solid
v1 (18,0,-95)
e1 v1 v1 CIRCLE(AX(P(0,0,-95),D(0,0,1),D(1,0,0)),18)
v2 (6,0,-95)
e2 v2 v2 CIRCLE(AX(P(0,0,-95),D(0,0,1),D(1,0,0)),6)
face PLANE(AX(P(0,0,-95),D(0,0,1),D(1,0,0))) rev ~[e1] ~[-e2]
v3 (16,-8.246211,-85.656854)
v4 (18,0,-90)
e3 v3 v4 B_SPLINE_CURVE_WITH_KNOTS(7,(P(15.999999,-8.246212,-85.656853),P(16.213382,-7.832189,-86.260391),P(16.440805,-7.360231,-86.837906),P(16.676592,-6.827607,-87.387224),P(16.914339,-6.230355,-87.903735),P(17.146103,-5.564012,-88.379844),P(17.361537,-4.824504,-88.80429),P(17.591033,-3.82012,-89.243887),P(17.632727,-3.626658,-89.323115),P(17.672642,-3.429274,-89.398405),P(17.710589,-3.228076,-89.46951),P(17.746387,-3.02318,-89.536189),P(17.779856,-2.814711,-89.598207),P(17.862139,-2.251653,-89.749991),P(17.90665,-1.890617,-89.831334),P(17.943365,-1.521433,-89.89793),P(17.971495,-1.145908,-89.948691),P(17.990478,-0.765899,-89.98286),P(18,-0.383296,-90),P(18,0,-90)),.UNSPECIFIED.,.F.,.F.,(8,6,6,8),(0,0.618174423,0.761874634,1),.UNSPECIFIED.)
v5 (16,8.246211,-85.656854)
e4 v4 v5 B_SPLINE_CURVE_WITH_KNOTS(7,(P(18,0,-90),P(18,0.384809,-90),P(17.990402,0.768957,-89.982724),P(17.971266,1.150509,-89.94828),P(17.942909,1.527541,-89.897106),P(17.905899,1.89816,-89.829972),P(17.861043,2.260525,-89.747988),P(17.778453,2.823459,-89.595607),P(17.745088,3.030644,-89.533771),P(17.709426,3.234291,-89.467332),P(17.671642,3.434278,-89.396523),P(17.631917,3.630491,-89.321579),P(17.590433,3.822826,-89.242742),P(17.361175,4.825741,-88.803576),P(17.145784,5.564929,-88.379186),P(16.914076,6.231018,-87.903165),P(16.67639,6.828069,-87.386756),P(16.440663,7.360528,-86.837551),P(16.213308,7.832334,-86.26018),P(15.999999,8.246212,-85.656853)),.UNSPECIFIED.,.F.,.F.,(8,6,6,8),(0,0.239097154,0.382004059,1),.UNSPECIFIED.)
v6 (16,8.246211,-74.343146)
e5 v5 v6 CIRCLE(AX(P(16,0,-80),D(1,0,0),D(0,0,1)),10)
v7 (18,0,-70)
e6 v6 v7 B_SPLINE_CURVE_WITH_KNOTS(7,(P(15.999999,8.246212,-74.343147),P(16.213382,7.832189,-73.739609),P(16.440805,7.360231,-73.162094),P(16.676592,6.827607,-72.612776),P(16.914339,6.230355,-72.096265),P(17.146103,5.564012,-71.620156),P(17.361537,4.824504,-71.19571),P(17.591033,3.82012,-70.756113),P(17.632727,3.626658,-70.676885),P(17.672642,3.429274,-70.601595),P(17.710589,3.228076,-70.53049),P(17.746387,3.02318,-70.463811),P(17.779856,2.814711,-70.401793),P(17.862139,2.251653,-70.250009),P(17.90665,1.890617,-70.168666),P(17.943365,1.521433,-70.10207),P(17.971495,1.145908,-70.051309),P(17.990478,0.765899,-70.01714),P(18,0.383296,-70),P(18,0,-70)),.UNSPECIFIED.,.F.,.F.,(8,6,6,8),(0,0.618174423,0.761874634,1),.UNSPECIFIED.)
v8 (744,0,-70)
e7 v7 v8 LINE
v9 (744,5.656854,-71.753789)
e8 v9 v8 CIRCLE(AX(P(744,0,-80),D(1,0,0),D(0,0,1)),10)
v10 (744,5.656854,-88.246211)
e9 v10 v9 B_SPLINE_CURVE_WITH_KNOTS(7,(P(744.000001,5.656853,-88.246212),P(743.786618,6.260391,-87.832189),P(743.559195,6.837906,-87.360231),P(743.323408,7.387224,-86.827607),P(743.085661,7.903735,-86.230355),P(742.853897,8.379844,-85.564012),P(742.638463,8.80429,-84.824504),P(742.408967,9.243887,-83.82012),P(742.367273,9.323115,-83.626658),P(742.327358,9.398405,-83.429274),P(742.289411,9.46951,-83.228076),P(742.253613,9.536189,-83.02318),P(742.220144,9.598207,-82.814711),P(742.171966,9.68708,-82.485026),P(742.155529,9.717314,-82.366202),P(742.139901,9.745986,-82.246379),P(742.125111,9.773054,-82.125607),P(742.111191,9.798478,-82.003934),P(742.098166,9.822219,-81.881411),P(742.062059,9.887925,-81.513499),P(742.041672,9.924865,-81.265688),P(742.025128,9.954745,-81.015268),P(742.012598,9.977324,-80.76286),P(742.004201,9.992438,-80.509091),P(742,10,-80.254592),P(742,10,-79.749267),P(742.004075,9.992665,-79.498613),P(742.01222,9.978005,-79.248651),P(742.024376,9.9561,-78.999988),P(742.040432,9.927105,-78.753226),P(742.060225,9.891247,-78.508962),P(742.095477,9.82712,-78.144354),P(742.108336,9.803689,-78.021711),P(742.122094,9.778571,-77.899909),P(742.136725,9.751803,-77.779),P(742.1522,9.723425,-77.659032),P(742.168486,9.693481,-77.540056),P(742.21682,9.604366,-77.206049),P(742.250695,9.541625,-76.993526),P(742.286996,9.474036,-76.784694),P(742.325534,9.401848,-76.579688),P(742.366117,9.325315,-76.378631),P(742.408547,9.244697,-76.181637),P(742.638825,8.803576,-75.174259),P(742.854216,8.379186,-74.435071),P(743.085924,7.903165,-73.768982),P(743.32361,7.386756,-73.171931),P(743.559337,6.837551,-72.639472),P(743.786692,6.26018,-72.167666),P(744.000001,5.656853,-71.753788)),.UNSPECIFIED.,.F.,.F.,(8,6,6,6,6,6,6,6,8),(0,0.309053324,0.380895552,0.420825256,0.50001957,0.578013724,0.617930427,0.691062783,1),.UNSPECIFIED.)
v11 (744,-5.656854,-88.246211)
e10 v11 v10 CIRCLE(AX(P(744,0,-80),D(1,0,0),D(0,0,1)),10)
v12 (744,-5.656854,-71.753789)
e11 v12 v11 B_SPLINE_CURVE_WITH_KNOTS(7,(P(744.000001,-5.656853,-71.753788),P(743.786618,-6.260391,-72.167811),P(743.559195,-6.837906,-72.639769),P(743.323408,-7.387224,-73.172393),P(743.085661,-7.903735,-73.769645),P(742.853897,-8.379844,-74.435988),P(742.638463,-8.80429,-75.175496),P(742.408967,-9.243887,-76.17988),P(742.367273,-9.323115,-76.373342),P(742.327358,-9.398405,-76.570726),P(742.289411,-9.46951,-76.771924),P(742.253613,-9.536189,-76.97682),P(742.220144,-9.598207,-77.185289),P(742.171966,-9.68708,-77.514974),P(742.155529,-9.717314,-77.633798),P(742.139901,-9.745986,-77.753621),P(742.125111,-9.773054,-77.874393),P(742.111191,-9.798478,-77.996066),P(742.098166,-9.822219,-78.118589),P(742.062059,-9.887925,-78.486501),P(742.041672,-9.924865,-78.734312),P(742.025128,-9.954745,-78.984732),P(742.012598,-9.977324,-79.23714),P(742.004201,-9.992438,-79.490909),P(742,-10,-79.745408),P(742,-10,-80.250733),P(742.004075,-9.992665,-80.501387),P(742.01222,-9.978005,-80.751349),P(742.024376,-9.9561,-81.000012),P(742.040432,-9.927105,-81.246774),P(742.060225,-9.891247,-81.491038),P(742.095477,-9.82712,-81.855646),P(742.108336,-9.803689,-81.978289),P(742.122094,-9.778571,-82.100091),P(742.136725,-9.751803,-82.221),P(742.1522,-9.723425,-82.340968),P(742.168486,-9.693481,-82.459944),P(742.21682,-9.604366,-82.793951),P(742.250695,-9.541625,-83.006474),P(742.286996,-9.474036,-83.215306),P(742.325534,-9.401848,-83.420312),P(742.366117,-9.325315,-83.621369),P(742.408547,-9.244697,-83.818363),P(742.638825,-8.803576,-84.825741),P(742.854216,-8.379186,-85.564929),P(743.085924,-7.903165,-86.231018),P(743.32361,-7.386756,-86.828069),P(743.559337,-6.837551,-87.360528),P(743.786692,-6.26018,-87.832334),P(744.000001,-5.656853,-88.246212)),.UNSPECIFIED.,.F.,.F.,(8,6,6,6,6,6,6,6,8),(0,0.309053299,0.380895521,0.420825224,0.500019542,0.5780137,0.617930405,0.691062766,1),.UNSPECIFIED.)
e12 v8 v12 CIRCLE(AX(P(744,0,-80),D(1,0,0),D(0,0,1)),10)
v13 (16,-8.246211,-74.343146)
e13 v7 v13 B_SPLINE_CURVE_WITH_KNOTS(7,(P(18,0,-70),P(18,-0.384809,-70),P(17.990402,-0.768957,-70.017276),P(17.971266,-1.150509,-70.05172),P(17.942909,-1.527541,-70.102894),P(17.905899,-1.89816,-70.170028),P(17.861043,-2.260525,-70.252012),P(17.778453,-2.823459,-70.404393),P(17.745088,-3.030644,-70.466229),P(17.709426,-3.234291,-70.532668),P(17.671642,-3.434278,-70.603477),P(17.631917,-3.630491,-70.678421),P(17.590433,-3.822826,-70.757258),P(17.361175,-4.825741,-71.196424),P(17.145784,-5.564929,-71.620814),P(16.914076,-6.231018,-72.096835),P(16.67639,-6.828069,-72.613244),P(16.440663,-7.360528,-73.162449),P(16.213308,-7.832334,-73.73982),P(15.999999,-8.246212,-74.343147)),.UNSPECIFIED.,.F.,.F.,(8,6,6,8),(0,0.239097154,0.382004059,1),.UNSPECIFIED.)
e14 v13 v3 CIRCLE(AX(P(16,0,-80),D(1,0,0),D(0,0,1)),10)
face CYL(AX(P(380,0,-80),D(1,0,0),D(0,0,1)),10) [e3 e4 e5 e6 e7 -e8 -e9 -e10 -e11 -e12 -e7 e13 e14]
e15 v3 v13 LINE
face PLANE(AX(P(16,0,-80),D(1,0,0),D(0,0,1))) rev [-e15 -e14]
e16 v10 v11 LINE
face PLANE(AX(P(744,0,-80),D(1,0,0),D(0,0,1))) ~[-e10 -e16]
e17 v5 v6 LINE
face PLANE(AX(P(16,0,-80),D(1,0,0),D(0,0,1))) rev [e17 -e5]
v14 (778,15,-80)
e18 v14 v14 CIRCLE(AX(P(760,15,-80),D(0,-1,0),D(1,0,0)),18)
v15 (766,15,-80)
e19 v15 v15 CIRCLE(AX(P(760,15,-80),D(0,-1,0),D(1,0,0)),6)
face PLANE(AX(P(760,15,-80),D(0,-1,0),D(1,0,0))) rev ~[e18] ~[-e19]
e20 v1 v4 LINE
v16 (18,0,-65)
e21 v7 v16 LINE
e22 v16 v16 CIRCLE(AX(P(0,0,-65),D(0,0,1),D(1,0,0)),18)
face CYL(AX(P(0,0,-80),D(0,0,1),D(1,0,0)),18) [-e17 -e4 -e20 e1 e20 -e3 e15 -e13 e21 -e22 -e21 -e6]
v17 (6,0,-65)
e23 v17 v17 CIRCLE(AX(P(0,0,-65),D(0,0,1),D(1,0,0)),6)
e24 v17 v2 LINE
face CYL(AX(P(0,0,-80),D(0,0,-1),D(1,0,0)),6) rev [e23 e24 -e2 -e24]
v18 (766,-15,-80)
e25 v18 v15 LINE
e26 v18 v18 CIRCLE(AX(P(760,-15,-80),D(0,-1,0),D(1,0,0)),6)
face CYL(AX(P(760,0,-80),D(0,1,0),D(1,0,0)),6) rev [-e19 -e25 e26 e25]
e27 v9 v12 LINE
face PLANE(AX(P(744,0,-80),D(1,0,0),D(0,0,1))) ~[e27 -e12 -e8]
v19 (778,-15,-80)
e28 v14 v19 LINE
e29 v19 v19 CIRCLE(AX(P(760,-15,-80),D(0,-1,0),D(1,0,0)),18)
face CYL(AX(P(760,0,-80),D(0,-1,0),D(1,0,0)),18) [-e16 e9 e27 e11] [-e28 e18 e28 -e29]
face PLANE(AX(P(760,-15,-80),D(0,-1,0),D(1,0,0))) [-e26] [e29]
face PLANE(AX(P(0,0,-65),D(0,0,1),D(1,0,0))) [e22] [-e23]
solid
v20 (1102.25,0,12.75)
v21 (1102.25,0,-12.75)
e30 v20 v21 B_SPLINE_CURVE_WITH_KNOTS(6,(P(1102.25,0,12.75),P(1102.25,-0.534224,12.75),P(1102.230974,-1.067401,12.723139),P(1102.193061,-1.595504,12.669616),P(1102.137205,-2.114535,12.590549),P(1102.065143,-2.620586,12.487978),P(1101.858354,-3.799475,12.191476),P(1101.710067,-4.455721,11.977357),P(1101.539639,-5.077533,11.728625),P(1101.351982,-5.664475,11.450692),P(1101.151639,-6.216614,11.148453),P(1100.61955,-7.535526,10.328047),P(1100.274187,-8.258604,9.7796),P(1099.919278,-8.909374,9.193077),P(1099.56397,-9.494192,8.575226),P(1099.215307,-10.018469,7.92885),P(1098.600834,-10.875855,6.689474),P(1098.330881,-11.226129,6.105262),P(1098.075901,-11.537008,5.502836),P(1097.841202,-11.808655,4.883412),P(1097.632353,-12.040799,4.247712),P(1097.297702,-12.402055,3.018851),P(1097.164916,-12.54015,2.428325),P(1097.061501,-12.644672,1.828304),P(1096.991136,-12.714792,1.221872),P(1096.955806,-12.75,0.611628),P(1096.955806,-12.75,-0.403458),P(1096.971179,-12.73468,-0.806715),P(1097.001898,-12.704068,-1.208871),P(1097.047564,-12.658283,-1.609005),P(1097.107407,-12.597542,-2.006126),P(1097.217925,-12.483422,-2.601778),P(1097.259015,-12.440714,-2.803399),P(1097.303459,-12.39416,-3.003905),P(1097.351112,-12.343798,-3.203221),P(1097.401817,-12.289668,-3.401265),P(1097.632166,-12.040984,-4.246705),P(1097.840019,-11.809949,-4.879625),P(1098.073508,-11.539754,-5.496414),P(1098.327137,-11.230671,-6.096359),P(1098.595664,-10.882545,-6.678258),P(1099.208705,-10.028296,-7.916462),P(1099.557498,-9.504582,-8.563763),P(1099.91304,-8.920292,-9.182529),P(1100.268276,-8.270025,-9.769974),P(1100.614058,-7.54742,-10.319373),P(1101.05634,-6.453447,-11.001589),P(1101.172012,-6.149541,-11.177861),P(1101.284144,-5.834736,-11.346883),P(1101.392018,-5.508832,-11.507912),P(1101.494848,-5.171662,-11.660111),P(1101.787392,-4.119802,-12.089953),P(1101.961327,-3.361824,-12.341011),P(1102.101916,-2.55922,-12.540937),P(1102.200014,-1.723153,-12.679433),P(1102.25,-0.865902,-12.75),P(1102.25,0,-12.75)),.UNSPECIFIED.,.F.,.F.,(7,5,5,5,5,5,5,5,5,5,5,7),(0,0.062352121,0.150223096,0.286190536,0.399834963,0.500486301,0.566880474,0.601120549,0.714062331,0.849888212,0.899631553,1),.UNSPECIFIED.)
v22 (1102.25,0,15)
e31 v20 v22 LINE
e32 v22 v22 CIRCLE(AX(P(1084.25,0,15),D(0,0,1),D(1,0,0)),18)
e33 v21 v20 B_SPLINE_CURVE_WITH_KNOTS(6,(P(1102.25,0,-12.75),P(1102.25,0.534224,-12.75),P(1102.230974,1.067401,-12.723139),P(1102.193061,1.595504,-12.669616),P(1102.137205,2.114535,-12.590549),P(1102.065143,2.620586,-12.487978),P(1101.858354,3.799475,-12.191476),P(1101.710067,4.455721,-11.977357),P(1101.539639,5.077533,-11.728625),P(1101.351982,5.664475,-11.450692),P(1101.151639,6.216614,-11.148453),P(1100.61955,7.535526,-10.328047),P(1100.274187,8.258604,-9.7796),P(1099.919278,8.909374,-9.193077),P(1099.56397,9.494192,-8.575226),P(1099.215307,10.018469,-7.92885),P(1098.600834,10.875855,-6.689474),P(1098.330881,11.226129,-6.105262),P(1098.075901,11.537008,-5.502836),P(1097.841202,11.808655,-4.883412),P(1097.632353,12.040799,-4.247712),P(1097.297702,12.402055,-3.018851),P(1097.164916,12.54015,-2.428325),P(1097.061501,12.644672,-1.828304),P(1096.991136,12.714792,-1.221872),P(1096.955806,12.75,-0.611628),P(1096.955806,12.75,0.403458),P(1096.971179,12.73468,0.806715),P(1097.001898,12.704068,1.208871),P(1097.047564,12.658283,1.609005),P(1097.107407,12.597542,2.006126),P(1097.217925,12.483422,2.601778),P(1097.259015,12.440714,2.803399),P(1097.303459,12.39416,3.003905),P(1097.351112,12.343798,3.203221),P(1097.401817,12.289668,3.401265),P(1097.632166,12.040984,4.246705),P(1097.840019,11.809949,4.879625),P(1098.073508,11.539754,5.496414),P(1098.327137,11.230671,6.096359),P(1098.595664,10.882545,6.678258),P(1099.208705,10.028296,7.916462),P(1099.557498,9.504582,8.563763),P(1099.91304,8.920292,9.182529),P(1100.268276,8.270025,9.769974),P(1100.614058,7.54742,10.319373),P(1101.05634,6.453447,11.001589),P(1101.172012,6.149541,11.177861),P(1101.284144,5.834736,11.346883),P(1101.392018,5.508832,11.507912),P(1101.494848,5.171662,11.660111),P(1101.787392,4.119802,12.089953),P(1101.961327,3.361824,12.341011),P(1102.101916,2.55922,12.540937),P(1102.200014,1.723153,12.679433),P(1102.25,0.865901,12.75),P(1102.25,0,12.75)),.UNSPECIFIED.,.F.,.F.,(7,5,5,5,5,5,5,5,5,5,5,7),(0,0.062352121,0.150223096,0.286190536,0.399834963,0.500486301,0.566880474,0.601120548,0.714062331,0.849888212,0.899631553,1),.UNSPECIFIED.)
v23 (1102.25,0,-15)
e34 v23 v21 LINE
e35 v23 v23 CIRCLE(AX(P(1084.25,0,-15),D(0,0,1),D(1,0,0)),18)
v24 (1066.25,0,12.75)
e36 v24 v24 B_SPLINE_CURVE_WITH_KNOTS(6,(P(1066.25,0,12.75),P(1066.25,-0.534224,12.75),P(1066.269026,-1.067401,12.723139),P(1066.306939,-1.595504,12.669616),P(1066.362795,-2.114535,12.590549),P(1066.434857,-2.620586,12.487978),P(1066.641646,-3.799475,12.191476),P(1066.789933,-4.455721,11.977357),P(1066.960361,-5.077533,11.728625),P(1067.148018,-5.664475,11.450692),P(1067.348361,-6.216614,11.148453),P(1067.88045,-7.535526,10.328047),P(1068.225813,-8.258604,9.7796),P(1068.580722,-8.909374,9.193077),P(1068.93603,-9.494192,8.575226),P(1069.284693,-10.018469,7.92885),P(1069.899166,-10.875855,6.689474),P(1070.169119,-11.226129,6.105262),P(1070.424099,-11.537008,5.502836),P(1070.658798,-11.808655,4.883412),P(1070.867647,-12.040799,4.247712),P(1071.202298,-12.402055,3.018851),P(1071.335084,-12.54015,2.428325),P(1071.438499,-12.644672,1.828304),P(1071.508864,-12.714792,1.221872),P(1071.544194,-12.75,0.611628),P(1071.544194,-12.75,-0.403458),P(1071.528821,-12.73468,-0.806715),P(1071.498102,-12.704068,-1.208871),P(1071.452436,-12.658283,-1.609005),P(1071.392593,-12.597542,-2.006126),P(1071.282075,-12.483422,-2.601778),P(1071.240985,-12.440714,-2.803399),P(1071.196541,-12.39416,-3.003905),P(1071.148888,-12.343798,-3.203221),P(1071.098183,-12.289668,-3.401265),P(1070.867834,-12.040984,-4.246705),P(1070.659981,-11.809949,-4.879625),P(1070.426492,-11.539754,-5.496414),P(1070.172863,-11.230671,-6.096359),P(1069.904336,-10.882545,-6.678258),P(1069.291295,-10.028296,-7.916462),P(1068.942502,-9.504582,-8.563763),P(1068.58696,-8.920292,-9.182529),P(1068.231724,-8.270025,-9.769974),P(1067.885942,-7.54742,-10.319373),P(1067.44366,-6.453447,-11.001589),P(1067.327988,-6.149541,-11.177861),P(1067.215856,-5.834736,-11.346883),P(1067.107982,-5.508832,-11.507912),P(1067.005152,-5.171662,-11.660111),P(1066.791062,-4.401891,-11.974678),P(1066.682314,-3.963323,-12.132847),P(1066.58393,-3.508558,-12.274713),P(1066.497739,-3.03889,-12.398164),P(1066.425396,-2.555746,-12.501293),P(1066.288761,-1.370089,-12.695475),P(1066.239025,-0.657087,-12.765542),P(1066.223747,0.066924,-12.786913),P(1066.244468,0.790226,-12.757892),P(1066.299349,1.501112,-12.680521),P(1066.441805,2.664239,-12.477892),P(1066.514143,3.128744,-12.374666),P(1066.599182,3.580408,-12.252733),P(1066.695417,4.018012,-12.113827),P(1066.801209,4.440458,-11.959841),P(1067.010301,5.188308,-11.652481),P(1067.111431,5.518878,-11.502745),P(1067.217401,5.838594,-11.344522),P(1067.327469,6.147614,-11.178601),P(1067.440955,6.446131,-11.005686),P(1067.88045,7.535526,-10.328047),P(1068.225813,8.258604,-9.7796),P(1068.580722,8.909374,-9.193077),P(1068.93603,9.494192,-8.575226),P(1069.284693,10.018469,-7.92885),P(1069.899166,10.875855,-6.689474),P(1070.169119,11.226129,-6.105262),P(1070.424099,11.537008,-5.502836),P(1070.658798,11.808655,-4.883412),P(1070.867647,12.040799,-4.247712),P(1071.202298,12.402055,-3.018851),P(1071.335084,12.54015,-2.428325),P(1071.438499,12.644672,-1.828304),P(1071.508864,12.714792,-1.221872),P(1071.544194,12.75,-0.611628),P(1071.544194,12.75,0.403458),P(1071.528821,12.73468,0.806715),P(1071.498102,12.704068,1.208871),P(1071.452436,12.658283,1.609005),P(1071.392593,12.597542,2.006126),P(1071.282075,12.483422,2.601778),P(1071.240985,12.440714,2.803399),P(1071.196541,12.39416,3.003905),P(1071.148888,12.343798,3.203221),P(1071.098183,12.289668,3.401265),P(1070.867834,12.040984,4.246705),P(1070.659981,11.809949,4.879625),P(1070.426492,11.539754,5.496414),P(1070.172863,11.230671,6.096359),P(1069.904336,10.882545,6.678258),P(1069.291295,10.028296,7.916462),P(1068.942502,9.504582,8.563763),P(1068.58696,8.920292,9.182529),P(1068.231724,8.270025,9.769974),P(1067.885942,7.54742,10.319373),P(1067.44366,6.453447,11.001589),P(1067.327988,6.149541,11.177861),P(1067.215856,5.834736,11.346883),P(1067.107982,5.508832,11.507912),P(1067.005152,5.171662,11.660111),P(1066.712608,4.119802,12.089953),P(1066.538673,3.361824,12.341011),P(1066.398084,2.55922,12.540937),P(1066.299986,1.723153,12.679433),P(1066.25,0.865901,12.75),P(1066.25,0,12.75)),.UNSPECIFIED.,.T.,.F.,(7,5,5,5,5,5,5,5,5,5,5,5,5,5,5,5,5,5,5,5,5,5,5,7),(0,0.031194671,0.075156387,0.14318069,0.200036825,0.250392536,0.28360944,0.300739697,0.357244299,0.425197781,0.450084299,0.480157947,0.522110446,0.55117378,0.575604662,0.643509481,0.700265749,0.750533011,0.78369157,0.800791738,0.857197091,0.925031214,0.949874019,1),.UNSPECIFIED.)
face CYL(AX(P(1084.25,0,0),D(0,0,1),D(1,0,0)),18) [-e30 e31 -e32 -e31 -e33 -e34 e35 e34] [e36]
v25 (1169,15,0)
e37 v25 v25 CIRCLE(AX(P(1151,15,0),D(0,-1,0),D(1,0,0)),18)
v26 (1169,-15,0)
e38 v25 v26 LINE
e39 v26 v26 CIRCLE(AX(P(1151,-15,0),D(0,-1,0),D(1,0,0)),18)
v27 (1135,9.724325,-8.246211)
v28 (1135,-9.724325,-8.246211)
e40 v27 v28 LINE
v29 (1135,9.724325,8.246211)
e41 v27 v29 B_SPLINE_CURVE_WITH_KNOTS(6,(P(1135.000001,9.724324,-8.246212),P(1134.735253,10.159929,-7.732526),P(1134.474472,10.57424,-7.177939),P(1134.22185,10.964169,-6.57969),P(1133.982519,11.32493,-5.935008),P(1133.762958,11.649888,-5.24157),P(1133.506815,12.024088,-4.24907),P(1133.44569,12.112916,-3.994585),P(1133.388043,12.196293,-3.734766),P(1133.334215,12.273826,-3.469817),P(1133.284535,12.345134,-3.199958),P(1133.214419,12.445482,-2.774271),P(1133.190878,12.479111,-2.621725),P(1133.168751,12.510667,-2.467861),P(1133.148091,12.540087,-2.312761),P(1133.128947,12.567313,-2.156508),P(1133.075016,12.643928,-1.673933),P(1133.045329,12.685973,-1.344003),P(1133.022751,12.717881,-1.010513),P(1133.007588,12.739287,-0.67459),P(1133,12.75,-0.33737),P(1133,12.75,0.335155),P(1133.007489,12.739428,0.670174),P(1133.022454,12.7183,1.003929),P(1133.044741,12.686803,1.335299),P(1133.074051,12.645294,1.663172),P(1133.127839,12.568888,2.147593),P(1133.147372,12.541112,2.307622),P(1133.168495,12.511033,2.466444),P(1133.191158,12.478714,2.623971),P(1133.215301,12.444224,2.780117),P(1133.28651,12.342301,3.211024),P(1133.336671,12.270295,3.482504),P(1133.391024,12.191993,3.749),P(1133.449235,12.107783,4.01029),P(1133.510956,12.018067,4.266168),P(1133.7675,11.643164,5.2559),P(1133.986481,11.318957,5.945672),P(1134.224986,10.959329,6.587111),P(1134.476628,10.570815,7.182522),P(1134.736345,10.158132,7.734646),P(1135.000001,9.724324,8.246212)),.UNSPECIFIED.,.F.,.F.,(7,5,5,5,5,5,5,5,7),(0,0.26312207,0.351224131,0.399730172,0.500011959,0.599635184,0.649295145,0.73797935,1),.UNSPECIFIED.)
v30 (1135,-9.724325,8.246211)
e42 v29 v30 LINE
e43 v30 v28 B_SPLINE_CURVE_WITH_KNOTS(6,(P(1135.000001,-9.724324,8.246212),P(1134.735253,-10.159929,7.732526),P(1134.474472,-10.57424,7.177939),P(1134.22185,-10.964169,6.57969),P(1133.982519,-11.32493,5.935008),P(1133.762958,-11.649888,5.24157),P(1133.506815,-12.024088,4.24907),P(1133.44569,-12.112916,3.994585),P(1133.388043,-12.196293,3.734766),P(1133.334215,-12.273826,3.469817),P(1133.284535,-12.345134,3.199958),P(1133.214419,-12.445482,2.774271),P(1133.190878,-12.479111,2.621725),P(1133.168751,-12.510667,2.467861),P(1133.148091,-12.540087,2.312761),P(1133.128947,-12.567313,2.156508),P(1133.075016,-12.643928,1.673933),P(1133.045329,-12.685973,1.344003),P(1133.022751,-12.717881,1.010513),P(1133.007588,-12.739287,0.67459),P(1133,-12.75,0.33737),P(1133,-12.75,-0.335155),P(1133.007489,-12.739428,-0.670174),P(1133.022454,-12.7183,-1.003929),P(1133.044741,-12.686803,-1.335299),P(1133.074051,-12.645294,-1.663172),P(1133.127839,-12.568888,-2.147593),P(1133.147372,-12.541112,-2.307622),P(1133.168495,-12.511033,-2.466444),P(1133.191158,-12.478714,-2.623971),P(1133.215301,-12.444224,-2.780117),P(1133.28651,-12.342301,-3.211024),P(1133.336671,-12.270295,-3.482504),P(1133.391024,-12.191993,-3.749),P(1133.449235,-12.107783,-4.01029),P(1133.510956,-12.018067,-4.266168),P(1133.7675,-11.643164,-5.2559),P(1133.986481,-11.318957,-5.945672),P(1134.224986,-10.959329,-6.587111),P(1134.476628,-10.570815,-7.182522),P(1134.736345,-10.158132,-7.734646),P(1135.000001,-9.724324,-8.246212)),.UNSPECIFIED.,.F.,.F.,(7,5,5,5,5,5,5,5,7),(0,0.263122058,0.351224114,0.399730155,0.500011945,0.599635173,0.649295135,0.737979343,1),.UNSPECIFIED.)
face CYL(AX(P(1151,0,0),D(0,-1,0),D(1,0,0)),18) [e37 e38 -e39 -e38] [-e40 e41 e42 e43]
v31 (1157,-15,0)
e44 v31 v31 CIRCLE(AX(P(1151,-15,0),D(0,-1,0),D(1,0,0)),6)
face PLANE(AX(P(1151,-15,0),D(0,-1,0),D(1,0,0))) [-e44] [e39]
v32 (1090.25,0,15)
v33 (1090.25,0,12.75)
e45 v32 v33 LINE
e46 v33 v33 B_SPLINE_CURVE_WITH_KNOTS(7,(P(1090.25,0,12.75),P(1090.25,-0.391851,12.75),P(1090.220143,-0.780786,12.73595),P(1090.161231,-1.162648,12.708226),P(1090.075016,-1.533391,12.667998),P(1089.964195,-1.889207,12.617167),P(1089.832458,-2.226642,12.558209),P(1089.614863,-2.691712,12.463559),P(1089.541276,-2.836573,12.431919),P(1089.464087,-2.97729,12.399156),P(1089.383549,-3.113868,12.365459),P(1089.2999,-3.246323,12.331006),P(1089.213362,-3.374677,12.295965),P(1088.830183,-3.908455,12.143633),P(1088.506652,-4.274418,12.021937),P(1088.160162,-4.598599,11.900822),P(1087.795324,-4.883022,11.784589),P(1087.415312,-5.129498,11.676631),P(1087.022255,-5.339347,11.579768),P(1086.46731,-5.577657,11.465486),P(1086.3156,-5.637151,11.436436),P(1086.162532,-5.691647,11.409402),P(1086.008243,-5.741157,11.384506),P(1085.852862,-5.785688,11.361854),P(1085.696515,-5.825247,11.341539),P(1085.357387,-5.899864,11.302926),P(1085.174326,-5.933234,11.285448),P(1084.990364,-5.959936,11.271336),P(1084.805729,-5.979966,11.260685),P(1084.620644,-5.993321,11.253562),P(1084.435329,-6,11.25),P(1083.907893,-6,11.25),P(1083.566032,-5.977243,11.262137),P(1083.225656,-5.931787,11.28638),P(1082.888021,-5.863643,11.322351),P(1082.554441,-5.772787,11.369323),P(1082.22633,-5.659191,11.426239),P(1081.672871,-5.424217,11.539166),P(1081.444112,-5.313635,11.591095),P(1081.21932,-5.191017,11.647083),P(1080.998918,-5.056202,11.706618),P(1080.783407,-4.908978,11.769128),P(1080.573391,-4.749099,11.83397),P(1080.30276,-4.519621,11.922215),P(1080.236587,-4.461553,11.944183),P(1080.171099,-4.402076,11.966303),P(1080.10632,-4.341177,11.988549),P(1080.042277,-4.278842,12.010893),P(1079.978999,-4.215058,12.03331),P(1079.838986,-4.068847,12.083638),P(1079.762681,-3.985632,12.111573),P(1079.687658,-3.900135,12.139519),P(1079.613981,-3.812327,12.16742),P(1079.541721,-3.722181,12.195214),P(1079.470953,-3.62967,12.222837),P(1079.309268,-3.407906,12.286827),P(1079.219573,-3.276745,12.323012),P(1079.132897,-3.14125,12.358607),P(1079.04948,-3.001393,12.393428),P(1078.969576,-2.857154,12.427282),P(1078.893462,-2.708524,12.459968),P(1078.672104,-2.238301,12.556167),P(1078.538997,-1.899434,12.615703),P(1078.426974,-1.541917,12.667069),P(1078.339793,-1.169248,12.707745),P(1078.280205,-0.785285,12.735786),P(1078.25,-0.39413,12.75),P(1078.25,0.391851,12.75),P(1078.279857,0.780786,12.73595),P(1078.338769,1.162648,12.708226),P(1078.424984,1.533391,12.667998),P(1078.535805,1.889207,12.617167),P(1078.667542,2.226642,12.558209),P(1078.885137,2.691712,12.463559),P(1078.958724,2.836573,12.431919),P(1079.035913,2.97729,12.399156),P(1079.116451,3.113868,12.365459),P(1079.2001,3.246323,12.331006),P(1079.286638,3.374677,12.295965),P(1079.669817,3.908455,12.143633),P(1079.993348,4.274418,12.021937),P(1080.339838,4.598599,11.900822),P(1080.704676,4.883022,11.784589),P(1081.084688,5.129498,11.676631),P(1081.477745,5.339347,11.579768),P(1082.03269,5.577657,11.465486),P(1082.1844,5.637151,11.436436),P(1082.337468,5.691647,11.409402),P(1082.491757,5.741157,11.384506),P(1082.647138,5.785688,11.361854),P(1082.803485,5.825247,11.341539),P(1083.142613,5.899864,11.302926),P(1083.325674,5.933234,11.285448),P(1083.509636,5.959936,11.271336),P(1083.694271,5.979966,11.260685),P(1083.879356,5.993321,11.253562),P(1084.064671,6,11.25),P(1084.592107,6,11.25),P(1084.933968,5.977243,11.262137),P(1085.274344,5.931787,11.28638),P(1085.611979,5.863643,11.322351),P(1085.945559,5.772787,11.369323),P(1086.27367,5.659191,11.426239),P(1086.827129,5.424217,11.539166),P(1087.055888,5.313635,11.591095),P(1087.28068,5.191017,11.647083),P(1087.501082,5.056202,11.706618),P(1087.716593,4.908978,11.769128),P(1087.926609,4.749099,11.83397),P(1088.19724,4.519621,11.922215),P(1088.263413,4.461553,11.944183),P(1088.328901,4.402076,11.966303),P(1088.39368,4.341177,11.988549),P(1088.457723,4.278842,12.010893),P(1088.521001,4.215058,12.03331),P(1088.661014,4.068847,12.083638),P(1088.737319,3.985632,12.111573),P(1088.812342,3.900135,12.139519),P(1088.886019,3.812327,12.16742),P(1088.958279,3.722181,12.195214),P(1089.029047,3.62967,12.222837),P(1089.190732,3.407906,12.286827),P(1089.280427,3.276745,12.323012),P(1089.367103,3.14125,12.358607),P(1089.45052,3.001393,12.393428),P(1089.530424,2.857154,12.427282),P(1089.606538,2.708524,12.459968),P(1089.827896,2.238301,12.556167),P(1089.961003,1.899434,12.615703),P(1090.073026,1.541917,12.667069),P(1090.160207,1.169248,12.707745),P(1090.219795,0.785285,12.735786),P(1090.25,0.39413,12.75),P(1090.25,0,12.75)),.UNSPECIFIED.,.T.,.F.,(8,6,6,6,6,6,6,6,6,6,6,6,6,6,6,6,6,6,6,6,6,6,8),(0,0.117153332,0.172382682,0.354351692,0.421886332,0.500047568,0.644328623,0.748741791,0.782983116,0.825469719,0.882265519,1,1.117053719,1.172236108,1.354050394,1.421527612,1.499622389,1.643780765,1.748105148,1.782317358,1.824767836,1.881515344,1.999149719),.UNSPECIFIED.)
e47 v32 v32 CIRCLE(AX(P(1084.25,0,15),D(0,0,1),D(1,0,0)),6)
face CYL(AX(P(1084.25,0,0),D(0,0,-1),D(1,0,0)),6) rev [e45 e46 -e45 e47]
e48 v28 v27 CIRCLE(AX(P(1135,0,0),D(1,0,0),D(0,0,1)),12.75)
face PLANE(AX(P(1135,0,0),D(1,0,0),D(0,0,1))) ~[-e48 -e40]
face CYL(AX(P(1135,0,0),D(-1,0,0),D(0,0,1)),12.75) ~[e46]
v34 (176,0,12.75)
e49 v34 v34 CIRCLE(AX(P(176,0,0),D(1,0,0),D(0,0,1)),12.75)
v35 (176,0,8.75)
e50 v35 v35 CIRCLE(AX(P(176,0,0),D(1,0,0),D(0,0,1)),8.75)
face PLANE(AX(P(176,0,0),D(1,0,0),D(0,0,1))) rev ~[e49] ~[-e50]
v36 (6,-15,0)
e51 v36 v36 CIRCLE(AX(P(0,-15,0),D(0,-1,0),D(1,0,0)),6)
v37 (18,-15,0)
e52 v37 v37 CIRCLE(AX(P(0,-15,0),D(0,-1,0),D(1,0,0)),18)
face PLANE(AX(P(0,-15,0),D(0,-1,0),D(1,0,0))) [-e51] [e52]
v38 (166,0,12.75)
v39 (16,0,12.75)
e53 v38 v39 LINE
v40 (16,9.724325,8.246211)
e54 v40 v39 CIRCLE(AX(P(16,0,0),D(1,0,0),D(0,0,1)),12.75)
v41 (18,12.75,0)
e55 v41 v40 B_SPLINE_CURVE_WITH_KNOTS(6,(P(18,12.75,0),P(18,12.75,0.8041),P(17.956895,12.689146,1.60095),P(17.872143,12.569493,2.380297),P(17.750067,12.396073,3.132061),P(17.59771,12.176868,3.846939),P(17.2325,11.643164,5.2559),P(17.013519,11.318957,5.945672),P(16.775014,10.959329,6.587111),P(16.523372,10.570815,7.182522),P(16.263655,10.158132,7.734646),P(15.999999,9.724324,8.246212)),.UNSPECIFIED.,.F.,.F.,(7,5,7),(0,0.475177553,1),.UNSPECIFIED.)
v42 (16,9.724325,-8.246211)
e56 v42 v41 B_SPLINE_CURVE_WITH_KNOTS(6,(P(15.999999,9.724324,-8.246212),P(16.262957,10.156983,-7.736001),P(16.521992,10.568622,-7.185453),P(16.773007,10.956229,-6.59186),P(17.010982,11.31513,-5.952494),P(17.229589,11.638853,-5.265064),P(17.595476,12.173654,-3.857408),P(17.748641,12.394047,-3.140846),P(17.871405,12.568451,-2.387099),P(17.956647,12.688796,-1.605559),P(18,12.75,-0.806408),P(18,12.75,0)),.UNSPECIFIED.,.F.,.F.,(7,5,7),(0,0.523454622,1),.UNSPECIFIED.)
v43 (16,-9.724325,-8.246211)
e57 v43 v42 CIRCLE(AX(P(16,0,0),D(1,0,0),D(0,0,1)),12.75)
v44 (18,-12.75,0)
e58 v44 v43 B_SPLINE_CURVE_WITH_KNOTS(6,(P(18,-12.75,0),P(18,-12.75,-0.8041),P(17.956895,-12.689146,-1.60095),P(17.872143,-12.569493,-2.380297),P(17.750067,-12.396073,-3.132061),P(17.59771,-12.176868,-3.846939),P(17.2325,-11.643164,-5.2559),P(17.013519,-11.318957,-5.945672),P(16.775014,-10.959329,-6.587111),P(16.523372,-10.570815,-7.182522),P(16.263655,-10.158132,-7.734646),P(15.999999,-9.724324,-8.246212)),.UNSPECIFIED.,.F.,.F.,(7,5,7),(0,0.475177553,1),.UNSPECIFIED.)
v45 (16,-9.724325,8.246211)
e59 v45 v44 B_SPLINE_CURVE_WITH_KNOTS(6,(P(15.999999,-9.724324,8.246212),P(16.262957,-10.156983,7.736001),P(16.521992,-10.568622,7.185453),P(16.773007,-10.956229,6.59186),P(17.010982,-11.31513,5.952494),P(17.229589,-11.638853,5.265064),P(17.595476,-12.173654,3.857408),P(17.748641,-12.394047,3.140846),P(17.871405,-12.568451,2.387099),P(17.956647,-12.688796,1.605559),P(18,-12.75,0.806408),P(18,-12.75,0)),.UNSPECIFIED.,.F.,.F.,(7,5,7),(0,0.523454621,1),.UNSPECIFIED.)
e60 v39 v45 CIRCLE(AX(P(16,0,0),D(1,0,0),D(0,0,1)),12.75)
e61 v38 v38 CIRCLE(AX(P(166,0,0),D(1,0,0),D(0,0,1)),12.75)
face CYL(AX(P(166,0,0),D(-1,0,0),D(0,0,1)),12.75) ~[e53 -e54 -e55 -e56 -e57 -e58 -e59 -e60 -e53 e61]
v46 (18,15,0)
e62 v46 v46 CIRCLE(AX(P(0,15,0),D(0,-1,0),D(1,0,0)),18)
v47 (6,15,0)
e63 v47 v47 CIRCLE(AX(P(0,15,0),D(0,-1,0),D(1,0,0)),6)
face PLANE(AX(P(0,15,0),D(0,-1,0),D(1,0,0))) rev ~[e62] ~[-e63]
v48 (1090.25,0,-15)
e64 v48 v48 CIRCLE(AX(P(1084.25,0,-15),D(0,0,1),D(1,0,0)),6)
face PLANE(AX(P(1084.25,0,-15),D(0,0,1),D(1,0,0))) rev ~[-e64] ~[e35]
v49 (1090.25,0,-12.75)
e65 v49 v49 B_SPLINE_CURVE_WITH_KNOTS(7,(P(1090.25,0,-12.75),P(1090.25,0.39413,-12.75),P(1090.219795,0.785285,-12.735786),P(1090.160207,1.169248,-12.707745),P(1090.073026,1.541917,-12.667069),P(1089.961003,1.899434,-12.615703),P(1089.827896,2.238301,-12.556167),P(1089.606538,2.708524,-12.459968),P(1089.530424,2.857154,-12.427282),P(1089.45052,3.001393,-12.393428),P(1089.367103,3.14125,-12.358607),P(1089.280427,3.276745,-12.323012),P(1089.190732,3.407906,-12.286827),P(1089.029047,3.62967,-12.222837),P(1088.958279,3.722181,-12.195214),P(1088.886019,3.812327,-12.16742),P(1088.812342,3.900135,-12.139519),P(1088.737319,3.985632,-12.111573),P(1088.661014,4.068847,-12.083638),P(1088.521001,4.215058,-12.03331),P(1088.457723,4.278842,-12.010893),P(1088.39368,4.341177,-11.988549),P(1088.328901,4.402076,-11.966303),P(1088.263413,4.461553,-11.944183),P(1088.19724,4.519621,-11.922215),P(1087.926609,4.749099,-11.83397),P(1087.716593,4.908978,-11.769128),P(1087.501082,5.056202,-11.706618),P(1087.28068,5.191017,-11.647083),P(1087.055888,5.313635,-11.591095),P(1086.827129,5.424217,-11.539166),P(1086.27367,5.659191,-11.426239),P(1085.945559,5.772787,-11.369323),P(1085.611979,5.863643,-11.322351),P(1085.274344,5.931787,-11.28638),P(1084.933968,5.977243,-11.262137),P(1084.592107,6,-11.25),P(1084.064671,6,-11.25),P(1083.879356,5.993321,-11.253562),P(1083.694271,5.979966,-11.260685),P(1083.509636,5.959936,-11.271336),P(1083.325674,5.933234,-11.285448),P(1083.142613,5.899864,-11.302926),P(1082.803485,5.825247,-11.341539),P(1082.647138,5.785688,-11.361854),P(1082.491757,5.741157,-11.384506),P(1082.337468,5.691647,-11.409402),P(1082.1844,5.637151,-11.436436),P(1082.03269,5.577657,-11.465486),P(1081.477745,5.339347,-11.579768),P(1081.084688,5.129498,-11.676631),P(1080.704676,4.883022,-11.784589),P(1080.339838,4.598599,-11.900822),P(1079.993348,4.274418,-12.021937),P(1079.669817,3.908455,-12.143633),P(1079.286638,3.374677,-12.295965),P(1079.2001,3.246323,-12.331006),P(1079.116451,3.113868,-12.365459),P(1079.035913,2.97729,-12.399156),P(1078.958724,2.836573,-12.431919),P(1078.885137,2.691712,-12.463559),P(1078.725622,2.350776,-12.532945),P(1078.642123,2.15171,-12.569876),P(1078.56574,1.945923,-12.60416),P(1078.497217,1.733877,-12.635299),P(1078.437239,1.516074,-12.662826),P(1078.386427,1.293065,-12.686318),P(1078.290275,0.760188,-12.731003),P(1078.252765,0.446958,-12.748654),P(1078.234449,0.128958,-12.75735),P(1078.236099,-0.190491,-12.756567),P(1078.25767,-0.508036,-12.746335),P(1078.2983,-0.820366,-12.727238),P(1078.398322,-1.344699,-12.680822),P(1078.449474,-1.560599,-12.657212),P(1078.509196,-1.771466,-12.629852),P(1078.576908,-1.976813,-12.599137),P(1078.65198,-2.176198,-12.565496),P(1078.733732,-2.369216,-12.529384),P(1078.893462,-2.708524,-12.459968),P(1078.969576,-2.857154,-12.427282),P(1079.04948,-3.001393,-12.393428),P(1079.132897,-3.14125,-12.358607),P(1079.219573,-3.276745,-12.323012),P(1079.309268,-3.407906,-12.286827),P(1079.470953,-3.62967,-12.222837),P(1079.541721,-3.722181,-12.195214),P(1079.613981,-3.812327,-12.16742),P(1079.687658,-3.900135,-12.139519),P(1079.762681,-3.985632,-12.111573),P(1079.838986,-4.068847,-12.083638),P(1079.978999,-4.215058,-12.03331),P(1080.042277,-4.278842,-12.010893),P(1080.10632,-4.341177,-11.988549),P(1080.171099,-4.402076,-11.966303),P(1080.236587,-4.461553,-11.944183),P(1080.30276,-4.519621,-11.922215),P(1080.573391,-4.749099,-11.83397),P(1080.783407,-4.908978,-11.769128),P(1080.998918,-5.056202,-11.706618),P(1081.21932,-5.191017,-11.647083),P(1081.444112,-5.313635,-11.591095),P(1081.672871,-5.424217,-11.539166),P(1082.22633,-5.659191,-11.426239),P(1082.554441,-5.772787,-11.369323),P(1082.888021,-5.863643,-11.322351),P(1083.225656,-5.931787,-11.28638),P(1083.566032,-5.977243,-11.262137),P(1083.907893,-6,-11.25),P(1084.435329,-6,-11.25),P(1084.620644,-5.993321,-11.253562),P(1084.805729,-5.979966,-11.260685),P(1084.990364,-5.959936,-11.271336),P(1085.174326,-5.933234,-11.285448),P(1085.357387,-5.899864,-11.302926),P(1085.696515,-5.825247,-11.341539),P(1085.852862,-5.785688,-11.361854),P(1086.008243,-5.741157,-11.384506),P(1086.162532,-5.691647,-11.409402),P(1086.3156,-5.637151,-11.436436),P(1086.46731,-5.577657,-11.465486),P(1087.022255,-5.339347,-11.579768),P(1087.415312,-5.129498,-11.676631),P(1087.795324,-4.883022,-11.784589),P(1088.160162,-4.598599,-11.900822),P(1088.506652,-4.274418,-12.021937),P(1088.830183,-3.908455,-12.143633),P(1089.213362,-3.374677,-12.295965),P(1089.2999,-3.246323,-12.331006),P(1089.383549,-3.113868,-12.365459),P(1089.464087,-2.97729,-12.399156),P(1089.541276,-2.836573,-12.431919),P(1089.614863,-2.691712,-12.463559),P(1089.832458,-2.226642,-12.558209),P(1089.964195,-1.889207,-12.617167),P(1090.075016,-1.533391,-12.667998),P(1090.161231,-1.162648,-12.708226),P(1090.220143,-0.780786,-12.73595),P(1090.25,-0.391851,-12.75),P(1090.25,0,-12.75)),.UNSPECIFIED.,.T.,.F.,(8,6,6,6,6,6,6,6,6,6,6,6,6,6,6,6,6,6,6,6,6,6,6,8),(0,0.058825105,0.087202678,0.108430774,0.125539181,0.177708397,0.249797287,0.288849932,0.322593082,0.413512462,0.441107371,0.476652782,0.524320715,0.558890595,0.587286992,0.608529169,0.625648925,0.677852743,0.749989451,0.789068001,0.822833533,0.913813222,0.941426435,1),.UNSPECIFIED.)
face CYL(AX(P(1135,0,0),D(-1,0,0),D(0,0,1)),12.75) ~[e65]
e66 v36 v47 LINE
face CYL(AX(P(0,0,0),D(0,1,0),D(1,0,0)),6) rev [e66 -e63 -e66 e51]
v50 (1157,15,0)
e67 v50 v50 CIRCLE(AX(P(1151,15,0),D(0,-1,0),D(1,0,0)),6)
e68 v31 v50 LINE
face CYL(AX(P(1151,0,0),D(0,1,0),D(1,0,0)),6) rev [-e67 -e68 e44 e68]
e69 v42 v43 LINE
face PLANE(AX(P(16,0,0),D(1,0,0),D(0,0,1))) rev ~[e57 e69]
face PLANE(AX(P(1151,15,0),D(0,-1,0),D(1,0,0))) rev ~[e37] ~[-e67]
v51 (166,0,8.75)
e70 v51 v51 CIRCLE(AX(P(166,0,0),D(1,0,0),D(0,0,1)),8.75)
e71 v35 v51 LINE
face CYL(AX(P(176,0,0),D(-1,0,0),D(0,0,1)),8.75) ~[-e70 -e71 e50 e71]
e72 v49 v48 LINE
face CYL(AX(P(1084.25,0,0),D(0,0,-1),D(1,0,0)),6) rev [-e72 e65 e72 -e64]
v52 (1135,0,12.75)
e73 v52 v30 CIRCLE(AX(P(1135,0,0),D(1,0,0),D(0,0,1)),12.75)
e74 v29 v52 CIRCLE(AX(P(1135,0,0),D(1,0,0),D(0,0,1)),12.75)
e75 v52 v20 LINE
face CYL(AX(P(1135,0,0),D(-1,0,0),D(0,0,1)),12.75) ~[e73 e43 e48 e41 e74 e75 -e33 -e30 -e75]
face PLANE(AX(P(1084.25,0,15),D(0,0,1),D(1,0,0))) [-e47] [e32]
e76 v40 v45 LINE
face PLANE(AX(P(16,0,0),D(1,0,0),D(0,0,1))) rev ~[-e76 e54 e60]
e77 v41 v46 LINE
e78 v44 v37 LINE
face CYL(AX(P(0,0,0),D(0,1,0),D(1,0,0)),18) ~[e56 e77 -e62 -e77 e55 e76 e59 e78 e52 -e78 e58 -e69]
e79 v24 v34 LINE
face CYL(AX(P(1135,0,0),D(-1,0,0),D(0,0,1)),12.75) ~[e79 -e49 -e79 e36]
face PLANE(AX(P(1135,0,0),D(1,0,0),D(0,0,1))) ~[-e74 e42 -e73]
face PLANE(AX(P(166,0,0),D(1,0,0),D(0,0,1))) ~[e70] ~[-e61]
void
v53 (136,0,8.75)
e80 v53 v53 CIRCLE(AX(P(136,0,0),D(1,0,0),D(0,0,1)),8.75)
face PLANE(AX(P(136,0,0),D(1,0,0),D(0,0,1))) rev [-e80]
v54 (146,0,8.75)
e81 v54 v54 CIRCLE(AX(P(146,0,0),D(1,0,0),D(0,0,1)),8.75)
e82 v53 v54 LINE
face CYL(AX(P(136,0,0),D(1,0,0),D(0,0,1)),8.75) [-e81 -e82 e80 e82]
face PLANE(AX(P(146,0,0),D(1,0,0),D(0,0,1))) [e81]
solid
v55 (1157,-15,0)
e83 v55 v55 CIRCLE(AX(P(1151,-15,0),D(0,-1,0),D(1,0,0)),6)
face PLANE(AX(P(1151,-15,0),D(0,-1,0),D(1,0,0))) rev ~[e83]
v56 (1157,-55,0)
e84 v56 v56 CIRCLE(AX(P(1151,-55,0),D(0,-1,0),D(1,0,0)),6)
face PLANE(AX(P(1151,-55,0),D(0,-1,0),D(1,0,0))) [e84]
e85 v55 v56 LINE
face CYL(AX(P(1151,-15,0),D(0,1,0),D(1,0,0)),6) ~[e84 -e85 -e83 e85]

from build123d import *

# Parameters (mm, degrees)
F2_R      = 18
F2_R_2    = 6
F3_DEPTH  = 15
F4_R      = 6
F5_DEPTH  = 40
F6_W      = 728
F6_H      = 10
F8_R      = 18
F8_R_2    = 6
F9_DEPTH  = 15
F11_R     = 18
F11_R_2   = 6
F12_DEPTH = 15
F13_R     = 18
F13_R_2   = 6
F14_DEPTH = 15


with BuildPart() as f1:
    # F0 (on Front) → F1 (revolve)
    with BuildSketch(Plane.XZ):
        Polygon((16, 12.75), (16, 0), (136, 0), (136, 8.75), (146, 8.75), (166, 8.75), (166, 12.75), align=None)
        Polygon((146, 8.75), (146, 0), (156, 0), (166, 0), (1135, 0), (1135, 12.75), (176, 12.75), (176, 8.75), (166, 8.75), align=None)
    revolve(axis=Axis((575.5, 0, 0), (1, 0, 0)))

    # F2 (on Front) → F3 (join, symmetric)
    with BuildSketch(Plane.XZ):
        Circle(F2_R)
        Circle(F2_R_2, mode=Mode.SUBTRACT)
        with Locations((1151, 0)):
            Circle(F2_R)
        with Locations((1151, 0)):
            Circle(F2_R_2, mode=Mode.SUBTRACT)
    extrude(amount=F3_DEPTH, both=True)

    # F13 (on Top) → F14 (join, symmetric)
    with BuildSketch(Plane.XY):
        with Locations((1084.25, 0)):
            Circle(F13_R)
        with Locations((1084.25, 0)):
            Circle(F13_R_2, mode=Mode.SUBTRACT)
    extrude(amount=F14_DEPTH, both=True)


with BuildPart() as f5:
    # F4 (on face) → F5 (new body)
    with BuildSketch(Plane.XZ.offset(15)):
        with Locations((1151, 0)):
            Circle(F4_R)
    extrude(amount=F5_DEPTH)


with BuildPart() as f7:
    # F6 (on Front) → F7 (revolve)
    with BuildSketch(Plane.XZ):
        with Locations((380, -75)):
            Rectangle(F6_W, F6_H)
    revolve(axis=Axis((380, 0, -80), (1, 0, 0)))

    # F8 (on Front) → F9 (join, symmetric)
    with BuildSketch(Plane.XZ):
        with Locations((760, -80)):
            Circle(F8_R)
        with Locations((760, -80)):
            Circle(F8_R_2, mode=Mode.SUBTRACT)
    extrude(amount=F9_DEPTH, both=True)

    # F11 (on offset) → F12 (join, symmetric)
    with BuildSketch(Plane.XY.offset(-80)):
        Circle(F11_R)
        Circle(F11_R_2, mode=Mode.SUBTRACT)
    extrude(amount=F12_DEPTH, both=True)


solid = Compound([f1.part, f5.part, f7.part])
